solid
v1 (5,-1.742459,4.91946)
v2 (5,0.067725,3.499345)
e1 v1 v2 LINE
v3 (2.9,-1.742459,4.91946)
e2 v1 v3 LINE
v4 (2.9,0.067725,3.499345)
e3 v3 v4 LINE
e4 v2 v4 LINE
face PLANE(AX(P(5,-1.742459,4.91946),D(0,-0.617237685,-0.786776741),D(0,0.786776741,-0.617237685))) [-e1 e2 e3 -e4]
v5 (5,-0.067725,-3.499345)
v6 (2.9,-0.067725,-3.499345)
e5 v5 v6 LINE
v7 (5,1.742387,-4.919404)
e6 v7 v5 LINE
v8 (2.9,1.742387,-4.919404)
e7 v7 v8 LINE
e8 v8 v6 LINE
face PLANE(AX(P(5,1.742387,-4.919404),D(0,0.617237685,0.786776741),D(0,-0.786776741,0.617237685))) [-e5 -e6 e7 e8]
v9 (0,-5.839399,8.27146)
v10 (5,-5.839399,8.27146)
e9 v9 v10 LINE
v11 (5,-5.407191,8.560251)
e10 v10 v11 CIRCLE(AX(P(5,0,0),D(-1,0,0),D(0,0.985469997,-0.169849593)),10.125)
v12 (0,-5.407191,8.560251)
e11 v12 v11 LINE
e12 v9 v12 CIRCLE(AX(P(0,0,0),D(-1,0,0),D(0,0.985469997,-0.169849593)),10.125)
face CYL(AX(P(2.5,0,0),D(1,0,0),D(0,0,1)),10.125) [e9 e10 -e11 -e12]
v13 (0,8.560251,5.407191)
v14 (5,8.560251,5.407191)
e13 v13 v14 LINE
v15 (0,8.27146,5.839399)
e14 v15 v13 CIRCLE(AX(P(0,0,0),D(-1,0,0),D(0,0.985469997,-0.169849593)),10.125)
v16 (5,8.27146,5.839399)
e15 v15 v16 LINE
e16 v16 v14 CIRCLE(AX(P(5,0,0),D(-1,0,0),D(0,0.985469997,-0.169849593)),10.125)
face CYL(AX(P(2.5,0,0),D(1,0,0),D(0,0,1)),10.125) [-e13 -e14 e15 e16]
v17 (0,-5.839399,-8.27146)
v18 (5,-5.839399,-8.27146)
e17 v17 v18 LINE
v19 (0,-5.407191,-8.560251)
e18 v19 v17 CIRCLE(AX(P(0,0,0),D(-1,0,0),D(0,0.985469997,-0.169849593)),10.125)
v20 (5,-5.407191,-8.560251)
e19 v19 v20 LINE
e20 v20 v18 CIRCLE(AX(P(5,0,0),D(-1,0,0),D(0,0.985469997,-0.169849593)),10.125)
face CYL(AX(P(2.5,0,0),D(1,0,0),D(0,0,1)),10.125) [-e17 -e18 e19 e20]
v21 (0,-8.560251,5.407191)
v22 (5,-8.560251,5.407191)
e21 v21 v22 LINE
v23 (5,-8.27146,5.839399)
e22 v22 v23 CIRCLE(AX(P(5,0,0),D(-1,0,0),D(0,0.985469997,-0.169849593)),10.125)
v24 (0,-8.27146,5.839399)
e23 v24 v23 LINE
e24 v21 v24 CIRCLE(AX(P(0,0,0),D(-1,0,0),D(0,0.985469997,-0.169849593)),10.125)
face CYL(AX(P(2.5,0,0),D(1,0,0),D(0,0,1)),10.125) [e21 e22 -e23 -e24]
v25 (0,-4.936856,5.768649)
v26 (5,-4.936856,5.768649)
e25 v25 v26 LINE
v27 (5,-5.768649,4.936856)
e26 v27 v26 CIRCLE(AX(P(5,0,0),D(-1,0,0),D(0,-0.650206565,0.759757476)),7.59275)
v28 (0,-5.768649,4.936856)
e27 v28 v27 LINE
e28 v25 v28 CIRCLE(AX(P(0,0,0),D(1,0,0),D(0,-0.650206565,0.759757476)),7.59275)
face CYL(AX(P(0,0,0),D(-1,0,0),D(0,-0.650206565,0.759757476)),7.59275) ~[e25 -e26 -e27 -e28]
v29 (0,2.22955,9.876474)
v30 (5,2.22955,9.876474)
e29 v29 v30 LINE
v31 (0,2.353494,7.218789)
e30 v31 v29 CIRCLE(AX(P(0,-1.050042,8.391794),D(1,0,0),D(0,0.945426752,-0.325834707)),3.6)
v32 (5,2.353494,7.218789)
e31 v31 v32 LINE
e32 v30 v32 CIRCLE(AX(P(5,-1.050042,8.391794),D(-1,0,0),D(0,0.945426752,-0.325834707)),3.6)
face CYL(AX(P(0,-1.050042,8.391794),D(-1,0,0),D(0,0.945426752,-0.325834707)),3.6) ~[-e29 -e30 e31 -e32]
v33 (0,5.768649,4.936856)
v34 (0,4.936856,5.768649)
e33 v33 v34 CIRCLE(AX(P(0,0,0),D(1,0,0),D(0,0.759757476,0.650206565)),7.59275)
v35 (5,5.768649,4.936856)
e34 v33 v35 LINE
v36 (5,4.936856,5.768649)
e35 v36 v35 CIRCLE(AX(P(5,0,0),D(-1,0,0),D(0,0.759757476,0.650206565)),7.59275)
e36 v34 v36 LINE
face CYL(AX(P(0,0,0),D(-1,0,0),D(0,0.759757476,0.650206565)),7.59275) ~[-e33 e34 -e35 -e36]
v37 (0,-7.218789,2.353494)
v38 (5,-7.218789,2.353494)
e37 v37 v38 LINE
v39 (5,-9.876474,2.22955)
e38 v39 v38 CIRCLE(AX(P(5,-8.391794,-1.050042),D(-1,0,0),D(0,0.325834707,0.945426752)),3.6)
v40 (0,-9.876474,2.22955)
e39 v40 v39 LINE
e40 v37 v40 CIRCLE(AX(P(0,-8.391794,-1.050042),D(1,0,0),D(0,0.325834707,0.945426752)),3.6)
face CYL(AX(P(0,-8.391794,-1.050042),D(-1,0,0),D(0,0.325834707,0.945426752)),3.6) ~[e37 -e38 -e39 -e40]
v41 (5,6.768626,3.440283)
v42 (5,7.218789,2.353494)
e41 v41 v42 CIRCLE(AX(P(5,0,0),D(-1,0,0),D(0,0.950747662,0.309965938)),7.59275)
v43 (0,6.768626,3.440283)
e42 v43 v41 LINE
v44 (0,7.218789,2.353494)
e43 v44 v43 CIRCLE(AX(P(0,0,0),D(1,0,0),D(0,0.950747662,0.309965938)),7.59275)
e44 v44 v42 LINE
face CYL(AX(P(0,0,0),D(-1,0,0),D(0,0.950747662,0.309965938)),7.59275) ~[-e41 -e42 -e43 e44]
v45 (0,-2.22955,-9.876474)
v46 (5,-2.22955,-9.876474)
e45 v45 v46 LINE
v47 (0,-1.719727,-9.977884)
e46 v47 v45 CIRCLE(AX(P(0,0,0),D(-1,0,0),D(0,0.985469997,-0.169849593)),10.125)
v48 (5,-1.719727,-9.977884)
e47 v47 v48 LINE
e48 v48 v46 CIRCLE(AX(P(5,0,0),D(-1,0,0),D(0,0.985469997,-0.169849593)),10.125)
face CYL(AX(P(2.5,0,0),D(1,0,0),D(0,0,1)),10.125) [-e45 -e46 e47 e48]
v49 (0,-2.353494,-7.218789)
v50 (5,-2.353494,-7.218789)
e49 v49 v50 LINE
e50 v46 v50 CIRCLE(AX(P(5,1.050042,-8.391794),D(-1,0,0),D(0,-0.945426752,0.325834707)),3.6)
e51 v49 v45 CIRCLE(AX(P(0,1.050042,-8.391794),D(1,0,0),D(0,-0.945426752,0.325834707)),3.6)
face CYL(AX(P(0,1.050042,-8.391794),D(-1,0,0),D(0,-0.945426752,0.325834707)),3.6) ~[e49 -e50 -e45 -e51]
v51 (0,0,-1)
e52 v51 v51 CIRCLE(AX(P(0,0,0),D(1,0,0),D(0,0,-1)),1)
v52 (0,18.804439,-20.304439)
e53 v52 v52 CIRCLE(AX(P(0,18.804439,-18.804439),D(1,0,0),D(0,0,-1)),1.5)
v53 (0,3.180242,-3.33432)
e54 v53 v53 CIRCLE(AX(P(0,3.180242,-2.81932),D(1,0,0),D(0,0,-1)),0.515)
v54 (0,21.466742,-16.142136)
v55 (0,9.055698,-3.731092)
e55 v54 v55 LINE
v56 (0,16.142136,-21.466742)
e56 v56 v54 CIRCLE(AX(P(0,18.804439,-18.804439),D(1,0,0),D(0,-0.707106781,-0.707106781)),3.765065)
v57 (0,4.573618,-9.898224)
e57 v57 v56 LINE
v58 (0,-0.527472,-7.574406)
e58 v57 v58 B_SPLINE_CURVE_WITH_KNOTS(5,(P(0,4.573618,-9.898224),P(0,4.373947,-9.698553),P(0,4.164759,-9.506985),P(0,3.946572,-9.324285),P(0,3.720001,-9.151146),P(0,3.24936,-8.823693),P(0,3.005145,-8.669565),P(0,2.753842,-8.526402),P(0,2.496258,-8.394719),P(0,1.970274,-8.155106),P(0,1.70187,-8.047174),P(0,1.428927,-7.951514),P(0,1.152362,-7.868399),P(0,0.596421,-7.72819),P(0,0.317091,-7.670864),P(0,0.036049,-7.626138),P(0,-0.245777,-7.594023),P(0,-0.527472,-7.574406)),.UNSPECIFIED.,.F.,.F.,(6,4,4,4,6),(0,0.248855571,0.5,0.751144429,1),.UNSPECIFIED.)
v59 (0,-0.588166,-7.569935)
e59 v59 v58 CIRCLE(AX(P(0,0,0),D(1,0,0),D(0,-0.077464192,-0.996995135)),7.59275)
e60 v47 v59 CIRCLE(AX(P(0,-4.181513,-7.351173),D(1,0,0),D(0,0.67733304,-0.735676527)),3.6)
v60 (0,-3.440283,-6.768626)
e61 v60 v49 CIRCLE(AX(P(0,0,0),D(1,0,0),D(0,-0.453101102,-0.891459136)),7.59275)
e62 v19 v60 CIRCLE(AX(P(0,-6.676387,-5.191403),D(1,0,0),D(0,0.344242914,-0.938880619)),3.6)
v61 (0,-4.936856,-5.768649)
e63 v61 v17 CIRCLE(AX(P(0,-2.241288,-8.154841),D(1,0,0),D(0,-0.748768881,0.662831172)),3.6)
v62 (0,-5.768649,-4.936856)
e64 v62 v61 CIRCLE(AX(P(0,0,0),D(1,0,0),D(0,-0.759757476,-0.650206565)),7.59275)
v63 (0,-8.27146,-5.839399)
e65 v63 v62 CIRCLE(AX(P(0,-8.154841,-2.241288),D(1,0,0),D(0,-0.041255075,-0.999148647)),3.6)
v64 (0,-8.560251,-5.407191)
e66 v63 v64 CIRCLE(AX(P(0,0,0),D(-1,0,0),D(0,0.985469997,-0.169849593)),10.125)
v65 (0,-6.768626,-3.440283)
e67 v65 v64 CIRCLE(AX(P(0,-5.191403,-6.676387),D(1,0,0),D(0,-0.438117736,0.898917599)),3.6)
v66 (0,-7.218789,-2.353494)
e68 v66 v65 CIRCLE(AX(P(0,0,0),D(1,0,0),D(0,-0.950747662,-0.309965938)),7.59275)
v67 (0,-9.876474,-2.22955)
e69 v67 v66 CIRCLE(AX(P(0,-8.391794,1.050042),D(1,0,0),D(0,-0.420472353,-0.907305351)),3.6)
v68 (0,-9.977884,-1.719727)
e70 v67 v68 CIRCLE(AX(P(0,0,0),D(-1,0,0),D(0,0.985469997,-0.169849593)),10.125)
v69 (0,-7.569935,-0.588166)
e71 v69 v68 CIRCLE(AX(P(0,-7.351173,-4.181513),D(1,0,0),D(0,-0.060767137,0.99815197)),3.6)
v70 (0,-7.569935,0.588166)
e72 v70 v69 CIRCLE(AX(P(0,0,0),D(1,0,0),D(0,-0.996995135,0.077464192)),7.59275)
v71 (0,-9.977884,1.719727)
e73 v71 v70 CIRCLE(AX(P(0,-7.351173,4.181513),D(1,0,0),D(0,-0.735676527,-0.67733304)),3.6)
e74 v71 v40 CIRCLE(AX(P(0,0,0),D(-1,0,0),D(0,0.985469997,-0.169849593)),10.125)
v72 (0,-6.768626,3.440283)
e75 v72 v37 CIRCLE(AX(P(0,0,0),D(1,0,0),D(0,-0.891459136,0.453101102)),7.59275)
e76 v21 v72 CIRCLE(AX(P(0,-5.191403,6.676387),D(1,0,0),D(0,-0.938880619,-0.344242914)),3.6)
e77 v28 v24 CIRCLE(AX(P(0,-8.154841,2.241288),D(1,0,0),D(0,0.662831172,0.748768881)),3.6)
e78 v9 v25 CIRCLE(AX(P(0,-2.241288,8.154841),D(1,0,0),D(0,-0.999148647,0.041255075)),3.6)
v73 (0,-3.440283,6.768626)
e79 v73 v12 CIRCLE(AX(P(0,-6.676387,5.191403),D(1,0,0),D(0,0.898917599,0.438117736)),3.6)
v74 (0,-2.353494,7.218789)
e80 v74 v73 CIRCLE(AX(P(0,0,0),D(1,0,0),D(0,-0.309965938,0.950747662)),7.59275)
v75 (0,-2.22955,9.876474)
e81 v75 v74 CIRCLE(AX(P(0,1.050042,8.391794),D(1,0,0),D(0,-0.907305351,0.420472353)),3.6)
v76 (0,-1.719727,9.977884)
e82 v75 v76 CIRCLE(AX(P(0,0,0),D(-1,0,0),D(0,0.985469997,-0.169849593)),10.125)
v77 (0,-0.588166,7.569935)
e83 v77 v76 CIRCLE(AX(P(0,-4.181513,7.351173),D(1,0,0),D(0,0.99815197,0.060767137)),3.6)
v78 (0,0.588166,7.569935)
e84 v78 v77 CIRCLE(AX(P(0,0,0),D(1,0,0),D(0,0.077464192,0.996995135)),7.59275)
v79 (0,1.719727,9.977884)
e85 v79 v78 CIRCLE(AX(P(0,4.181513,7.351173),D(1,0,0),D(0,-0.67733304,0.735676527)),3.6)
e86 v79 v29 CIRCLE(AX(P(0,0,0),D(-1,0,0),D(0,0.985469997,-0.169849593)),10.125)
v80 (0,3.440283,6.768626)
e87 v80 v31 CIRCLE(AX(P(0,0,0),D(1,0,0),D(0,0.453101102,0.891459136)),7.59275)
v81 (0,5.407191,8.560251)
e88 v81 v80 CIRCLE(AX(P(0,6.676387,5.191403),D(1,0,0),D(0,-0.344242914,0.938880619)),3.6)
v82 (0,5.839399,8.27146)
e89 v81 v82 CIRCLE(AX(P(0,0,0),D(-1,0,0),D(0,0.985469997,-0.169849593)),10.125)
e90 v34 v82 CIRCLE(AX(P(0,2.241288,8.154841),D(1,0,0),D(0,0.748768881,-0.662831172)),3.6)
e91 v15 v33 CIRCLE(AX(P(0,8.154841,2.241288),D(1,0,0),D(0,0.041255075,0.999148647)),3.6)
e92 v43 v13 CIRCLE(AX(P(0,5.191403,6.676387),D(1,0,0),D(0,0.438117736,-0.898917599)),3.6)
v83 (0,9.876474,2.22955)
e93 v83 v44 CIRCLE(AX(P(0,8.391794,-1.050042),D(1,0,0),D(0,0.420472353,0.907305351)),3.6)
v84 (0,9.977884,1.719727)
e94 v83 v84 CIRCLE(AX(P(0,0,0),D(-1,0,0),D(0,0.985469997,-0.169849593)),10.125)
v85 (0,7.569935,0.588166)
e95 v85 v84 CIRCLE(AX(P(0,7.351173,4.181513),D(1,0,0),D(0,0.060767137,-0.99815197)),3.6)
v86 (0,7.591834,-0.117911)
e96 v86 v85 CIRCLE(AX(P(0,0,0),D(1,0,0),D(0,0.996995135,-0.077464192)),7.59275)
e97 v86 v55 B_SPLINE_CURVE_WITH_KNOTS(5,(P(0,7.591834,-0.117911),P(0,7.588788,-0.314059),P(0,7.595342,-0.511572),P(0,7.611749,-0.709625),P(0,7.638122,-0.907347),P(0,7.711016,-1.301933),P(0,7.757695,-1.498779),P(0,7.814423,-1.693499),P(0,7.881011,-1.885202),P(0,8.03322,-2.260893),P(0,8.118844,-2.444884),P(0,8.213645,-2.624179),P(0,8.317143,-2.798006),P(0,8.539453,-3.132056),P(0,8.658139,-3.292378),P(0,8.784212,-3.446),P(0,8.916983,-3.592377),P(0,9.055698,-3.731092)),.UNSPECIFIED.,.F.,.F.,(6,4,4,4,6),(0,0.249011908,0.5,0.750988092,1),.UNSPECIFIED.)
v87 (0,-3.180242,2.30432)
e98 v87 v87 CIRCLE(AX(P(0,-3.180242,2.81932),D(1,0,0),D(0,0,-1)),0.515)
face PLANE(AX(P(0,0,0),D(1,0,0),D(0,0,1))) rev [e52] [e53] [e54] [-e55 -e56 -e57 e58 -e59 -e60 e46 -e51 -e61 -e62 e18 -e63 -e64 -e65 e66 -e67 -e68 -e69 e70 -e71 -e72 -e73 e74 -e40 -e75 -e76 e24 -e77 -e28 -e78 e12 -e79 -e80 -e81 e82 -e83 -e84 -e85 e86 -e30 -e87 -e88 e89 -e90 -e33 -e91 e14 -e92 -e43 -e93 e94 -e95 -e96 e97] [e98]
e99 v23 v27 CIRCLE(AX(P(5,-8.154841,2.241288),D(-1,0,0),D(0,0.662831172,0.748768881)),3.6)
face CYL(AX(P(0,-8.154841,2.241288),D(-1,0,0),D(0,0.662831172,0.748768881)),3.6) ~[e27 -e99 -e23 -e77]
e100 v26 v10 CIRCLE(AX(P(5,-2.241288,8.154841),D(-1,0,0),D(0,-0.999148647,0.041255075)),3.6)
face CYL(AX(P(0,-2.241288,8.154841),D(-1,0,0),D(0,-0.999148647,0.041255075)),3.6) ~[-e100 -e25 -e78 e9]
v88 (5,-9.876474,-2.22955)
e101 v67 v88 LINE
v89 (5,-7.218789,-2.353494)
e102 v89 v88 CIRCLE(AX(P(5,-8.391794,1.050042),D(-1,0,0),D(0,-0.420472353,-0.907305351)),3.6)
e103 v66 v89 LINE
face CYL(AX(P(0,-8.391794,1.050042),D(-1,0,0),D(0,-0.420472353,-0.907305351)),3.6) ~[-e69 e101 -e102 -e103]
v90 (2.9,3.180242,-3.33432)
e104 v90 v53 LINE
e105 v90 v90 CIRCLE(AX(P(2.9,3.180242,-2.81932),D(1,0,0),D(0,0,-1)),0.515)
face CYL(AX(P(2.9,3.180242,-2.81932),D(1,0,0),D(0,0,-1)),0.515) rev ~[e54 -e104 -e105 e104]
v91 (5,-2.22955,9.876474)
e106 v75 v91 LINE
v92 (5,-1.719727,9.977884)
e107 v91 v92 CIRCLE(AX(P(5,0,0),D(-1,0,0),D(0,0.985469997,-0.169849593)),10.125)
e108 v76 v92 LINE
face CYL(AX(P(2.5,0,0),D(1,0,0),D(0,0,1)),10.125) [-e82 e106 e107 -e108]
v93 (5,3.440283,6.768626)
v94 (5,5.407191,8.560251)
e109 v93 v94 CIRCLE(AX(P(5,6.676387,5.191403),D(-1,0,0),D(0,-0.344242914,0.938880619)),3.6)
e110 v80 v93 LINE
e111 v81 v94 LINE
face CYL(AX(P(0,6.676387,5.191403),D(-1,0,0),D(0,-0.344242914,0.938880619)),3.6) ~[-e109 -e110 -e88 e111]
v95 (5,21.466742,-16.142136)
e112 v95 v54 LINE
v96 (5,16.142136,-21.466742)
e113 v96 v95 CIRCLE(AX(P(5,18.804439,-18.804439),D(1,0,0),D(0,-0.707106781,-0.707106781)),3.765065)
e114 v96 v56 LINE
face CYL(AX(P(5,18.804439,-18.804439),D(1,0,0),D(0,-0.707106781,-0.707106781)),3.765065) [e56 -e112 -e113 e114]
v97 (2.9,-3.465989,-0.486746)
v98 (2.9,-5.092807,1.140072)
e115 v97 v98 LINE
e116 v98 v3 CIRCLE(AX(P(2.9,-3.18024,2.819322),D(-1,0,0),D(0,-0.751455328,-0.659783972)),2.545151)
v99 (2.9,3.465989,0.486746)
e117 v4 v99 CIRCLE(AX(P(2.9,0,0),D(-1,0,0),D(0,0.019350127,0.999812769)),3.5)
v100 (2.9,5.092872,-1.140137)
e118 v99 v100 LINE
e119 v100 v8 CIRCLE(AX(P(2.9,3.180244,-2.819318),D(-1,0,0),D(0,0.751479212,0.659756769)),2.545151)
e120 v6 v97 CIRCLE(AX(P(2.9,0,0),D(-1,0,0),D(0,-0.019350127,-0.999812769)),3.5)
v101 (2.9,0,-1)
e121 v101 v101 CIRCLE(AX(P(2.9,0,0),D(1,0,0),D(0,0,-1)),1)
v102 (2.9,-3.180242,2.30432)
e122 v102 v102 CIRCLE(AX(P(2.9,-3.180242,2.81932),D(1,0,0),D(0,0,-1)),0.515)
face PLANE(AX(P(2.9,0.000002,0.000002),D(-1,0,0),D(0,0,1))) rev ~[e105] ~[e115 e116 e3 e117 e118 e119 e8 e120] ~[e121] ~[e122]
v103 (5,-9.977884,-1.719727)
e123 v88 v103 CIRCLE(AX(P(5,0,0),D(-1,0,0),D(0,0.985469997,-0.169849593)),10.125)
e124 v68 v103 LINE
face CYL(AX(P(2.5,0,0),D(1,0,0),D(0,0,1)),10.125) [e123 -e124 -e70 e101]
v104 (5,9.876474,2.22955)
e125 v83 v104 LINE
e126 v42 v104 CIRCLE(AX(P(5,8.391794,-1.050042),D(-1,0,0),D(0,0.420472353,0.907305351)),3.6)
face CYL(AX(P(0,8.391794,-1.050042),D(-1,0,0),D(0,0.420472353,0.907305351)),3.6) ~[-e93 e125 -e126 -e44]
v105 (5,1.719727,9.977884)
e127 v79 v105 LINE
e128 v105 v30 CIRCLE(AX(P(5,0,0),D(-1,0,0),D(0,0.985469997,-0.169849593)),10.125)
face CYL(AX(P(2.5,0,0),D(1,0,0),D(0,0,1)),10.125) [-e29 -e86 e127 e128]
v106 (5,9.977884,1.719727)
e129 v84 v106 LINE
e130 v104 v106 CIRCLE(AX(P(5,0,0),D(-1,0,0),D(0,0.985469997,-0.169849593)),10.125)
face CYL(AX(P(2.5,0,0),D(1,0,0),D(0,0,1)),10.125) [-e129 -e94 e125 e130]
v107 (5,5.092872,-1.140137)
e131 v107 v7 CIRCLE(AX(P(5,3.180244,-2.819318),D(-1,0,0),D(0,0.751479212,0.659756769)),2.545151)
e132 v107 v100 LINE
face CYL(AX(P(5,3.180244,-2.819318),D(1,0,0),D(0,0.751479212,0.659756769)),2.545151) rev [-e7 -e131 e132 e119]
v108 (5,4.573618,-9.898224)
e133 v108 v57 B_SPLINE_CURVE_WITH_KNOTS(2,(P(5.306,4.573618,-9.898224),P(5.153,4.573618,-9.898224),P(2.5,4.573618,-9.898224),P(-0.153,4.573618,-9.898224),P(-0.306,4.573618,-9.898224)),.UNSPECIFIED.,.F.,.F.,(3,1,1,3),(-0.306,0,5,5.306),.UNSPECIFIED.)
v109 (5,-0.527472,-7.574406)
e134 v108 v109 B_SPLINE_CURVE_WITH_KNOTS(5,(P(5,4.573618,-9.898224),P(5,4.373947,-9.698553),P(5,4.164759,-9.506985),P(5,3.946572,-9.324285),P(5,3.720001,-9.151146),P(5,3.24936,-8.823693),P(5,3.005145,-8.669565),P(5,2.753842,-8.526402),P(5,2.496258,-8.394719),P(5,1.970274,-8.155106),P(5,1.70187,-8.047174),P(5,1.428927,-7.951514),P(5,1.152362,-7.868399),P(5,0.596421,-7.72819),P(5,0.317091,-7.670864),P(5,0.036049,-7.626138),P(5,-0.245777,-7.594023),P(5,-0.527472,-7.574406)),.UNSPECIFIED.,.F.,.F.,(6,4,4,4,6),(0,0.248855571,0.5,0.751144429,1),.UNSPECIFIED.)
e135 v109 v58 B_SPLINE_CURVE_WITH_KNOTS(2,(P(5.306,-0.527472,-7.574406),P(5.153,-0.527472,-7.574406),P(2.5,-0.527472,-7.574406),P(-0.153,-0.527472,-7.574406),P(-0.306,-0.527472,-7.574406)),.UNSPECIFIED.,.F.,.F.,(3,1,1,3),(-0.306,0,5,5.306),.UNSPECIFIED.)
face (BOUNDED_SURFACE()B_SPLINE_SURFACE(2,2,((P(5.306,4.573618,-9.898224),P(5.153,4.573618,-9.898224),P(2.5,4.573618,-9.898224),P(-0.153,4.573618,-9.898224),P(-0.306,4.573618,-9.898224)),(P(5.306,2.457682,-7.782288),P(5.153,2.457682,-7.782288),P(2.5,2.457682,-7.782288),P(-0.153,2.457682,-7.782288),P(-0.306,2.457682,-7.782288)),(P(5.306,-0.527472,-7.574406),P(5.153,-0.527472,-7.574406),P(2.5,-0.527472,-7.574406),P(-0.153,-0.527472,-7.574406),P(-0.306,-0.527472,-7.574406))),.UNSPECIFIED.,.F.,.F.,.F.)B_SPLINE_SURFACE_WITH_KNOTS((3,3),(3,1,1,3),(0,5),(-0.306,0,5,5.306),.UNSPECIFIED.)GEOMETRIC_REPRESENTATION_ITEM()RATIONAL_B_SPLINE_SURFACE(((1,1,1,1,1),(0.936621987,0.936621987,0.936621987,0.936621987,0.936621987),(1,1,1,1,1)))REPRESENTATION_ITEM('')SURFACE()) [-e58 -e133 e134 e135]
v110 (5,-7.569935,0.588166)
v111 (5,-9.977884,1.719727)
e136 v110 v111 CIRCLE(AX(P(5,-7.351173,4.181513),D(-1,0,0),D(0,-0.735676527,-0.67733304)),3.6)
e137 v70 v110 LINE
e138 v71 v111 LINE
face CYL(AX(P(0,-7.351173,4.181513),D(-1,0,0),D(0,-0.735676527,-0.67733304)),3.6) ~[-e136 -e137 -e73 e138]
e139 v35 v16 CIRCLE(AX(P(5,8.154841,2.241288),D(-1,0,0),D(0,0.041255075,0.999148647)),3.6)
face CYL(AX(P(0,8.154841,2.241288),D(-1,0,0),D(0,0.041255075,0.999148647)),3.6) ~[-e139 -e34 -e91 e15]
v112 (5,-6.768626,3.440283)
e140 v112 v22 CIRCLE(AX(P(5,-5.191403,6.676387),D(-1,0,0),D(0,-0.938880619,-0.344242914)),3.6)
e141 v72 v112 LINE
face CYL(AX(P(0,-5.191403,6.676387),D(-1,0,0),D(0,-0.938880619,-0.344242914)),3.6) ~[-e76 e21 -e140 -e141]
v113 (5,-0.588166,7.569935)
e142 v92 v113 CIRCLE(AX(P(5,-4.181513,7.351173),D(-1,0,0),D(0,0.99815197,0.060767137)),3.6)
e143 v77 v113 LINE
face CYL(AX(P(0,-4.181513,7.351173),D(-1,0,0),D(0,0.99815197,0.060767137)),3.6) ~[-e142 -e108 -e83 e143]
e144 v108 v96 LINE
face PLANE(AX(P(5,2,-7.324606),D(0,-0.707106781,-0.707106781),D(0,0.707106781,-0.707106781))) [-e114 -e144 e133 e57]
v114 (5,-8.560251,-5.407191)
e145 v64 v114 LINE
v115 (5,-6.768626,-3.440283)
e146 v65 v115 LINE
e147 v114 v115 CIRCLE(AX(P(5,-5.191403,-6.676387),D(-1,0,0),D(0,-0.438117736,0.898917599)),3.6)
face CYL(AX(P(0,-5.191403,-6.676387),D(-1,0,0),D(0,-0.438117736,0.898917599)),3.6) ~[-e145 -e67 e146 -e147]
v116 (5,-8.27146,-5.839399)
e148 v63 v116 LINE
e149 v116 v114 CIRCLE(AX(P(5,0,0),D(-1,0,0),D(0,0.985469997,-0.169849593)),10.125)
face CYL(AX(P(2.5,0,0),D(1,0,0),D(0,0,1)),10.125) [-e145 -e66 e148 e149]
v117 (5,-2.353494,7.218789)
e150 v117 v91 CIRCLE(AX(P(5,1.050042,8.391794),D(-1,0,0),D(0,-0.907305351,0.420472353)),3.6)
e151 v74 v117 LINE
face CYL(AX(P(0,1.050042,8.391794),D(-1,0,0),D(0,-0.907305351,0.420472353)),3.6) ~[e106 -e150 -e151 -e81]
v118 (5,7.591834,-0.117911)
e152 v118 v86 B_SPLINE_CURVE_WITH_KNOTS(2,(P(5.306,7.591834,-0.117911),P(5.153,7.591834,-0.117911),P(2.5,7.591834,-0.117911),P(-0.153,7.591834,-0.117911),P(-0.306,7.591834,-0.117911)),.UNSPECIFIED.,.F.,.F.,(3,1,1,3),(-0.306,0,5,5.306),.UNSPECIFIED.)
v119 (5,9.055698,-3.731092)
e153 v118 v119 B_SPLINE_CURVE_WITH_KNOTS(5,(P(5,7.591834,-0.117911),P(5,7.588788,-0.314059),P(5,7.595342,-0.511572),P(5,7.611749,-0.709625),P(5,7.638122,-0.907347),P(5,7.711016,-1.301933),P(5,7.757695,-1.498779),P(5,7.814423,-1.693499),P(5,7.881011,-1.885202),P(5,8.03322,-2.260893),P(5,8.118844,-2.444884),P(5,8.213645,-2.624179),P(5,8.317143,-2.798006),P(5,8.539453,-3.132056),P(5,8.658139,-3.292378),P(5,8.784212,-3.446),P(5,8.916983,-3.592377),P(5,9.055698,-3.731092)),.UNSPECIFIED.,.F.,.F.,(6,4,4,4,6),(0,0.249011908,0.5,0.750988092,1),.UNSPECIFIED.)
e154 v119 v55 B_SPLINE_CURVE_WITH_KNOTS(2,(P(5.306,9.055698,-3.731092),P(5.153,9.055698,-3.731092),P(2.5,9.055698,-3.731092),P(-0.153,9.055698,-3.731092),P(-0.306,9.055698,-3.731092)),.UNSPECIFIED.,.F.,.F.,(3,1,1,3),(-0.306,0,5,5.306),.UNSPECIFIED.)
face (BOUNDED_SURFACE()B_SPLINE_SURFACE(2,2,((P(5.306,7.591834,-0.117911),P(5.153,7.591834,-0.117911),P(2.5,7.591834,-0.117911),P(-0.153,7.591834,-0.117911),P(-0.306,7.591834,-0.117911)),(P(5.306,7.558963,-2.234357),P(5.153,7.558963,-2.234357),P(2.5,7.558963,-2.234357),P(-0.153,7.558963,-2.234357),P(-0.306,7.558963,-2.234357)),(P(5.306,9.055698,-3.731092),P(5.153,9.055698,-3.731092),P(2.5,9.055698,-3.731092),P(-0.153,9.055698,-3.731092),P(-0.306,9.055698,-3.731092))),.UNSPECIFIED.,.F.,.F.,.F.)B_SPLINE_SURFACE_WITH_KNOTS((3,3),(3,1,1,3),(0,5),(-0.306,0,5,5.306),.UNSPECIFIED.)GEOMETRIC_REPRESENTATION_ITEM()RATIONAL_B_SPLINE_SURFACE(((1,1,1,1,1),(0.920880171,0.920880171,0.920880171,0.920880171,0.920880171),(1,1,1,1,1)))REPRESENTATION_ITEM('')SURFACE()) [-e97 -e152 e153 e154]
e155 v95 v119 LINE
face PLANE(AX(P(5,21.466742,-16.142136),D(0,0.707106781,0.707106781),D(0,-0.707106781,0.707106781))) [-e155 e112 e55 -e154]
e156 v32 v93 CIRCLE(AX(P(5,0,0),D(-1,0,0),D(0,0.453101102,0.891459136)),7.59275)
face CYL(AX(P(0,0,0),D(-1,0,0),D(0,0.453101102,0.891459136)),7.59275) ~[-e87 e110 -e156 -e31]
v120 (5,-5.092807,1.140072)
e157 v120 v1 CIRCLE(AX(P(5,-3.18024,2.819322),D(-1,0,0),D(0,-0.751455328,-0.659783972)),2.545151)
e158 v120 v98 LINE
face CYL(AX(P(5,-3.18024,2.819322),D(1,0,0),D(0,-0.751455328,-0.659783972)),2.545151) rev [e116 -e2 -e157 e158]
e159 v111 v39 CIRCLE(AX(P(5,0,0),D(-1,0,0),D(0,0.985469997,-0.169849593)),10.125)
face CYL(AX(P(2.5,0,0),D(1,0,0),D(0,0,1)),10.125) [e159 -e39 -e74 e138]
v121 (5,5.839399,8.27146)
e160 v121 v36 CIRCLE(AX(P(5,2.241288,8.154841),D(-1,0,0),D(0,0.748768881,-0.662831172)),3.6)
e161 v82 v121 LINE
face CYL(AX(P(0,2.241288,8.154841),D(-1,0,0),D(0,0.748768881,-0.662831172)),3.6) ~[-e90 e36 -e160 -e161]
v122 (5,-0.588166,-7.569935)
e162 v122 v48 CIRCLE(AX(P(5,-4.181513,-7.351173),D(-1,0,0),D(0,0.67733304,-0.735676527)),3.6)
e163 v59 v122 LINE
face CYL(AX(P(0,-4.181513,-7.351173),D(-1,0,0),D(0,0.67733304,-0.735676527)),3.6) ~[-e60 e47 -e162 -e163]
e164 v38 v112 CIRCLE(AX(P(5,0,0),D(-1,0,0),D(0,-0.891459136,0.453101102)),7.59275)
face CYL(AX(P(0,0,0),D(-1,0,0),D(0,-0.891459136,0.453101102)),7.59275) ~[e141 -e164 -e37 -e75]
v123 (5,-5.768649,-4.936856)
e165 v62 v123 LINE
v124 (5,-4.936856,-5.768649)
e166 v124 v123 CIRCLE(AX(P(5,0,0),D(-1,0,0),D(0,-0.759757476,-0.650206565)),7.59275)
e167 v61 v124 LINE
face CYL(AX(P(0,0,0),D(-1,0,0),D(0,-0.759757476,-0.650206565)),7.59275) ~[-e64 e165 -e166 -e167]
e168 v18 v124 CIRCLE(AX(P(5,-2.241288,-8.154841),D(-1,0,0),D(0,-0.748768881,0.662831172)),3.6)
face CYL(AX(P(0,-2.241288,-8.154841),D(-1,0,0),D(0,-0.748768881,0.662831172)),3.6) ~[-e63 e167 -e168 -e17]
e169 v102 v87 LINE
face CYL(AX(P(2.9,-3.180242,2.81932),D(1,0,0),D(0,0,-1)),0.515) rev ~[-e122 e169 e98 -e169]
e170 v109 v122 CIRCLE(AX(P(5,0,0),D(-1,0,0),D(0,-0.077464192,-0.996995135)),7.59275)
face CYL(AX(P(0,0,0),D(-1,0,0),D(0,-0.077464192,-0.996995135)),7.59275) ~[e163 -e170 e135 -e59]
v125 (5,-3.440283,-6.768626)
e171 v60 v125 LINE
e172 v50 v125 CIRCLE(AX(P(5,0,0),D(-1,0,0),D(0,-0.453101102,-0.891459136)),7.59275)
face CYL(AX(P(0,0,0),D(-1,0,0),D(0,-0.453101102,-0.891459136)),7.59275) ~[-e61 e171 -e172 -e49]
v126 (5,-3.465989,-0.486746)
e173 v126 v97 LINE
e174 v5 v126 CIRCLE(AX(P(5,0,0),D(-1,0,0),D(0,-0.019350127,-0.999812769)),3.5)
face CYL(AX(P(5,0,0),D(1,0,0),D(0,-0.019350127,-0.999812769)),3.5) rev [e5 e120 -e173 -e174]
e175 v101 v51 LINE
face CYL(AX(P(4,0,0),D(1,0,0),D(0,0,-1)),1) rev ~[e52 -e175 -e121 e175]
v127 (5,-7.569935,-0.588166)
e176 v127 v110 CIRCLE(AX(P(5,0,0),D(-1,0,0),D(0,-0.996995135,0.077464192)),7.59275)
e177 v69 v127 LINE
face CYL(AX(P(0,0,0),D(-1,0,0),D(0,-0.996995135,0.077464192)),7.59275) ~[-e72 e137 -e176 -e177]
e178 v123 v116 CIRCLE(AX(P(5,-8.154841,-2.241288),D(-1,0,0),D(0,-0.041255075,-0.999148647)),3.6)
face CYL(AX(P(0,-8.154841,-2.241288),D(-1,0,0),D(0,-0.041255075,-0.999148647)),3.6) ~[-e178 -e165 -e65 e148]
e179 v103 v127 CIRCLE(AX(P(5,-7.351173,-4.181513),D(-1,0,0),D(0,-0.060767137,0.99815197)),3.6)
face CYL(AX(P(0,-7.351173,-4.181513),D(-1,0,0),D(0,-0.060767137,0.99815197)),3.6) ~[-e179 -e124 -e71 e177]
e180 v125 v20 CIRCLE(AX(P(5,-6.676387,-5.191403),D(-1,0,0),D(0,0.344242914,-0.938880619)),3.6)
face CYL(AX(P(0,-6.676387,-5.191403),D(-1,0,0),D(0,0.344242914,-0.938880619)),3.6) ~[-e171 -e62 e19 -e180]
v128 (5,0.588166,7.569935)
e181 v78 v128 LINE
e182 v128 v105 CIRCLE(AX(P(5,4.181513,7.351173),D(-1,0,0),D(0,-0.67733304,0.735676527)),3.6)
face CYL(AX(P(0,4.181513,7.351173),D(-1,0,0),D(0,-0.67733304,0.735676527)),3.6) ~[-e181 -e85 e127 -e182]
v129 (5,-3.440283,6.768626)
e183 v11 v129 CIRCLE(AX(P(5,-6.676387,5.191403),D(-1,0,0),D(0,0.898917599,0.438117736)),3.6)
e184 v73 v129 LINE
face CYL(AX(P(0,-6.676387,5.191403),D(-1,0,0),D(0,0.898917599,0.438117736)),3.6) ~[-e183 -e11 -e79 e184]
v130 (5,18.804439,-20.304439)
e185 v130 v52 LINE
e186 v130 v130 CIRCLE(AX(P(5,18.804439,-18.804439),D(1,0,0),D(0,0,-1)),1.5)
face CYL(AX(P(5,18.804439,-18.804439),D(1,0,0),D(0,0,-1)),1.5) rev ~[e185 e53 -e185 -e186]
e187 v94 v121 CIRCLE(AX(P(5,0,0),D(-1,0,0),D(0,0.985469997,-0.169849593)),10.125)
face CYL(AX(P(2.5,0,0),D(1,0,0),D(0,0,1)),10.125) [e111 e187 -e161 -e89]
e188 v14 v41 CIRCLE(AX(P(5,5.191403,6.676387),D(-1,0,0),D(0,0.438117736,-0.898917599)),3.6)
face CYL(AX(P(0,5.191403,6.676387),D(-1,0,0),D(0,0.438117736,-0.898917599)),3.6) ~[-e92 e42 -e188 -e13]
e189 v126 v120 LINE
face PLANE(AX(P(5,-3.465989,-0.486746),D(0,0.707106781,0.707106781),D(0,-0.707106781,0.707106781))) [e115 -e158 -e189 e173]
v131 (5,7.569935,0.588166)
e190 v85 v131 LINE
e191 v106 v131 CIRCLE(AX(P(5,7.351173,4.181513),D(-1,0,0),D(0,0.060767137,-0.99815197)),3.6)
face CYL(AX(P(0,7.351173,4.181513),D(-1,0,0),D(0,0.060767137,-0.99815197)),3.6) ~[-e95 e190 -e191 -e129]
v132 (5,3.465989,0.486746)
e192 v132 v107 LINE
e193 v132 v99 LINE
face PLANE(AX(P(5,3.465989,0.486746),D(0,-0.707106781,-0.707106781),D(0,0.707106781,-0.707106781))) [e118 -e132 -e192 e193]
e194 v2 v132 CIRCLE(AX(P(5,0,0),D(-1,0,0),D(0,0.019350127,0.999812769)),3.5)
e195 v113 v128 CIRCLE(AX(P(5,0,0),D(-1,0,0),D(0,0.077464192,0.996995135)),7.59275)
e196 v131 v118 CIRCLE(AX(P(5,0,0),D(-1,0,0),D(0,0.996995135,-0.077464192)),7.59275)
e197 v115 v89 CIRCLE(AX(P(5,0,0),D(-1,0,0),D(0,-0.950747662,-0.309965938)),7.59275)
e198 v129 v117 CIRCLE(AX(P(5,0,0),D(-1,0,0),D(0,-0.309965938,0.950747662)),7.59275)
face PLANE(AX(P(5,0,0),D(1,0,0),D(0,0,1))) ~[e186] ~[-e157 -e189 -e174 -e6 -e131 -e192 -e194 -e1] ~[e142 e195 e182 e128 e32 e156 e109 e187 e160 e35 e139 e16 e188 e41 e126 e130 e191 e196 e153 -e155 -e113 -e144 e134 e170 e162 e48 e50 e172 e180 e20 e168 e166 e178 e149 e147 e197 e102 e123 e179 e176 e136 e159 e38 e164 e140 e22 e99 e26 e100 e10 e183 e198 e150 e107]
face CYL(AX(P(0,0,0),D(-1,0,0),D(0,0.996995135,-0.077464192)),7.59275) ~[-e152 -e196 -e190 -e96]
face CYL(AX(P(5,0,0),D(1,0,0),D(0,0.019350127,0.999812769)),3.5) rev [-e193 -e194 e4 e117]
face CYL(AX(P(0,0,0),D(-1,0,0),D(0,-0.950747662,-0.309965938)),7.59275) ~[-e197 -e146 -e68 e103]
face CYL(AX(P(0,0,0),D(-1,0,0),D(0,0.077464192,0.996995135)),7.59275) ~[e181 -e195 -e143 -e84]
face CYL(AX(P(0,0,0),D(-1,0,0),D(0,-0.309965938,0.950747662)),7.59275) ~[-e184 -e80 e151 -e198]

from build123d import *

# Parameters (mm, degrees)
BASPROSKE_W             = 5
BASPROSKE_H             = 10.125
TOOTHCUT_DEPTH          = 16.166781135
TEETHCUTS_COUNT         = 13
TEETHCUTS_ANGLE         = 270
BORSKE_R                = 2.5
BORE_DEPTH              = 50.0000508
ENL_V_START             = -10
ENL_V_MAT_EXTRU_1_DEPTH = 10
ESQUISSE2_R             = 1.5
BOSS_EXTRU_1_DEPTH      = 5
BOSS_EXTRU_2_START      = -1
ESQUISSE3_R             = 2.5
BOSS_EXTRU_2_DEPTH      = 4
ESQUISSE4_R             = 1
ENL_V_MAT_EXTRU_2_DEPTH = 10
CONG_1_R                = 5
CONG_2_R                = 8
ENL_V_MAT_EXTRU_4_DEPTH = 2.1
ESQUISSE8_R             = 0.515
ENL_V_MAT_EXTRU_5_DEPTH = 33.049570744


with BuildPart() as part:
    # BasProSke → Base-Revolve (revolve)
    with BuildSketch(Plane(origin=(0, 0, 0), x_dir=(1, 0, 0), z_dir=(0, 1, 0)), mode=Mode.PRIVATE) as base_revolve_sk:
        with Locations((2.5, 5.0625)):
            Rectangle(BASPROSKE_W, BASPROSKE_H)
    revolve(base_revolve_sk.sketch.rotate(Axis((-10, 0, 0), (1, 0, 0)), 180), axis=Axis((-10, 0, 0), (1, 0, 0)))

    # TooCutSke → ToothCut (cut, through all)
    with BuildSketch(Plane(origin=(0, 0, 0), x_dir=(0, 0, -1), z_dir=(1, 0, 0))):
        with BuildLine():
            ThreePointArc((0.588166249, 7.56993481), (0, 7.59275), (-0.588166249, 7.56993481))
            ThreePointArc((-0.588166249, 7.56993481), (-0.930156891, 8.896709021), (-1.743114395, 9.999608611))
            ThreePointArc((-1.743114395, 9.999608611), (0, 10.1504), (1.743114395, 9.999608611))
            ThreePointArc((1.743114395, 9.999608611), (0.930156891, 8.896709021), (0.588166249, 7.56993481))
        make_face()
    toothcut = extrude(amount=TOOTHCUT_DEPTH, mode=Mode.SUBTRACT)

    # TeethCuts: ToothCut ×13 about axis
    teethcuts_axis = Axis((-10, 0, 0), (1, 0, 0))
    for i in range(1, TEETHCUTS_COUNT):
        add(toothcut.rotate(teethcuts_axis, i * TEETHCUTS_ANGLE / (TEETHCUTS_COUNT - 1)), mode=Mode.SUBTRACT)

    # BorSke → Bore (cut, symmetric)
    with BuildSketch(Plane(origin=(0, 0, 0), x_dir=(0, 0, -1), z_dir=(1, 0, 0))):
        with Locations(Location((0, 0, 0), (0, 0, 180))):
            Circle(BORSKE_R)
    extrude(amount=BORE_DEPTH, both=True, mode=Mode.SUBTRACT)

    # Esquisse1 → Enlèv. mat.-Extru.1 (cut)
    with BuildSketch(Plane(origin=(5, 0, 0), x_dir=(0, 0, -1), z_dir=(1, 0, 0)).offset(ENL_V_START)):
        with BuildLine():
            ThreePointArc((7.56993481, 0.588166249), (5.368885013, 5.368885013), (0.588166249, 7.56993481))
            ThreePointArc((0.588166249, 7.56993481), (0.923336805, 8.882279141), (1.719727125, 9.977883724))
            ThreePointArc((1.719727125, 9.977883724), (7.15945616, 7.15945616), (9.977883724, 1.719727125))
            ThreePointArc((9.977883724, 1.719727125), (8.882279141, 0.923336805), (7.56993481, 0.588166249))
        make_face()
    extrude(amount=ENL_V_MAT_EXTRU_1_DEPTH, mode=Mode.SUBTRACT)

    # Esquisse2 → Boss.-Extru.1 (add, through all)
    with BuildSketch(Plane(origin=(5, 0, 0), x_dir=(0, 0, -1), z_dir=(1, 0, 0))):
        with BuildLine():
            Line((16.142135624, 21.46674159), (2, 7.324605966))
            ThreePointArc((2, 7.324605966), (5.368885013, 5.368885013), (7.324605966, 2))
            Line((7.324605966, 2), (21.46674159, 16.142135624))
            ThreePointArc((21.46674159, 16.142135624), (21.46674159, 21.46674159), (16.142135624, 21.46674159))
        make_face()
        with Locations((18.804438607, 18.804438607)):
            Circle(ESQUISSE2_R, mode=Mode.SUBTRACT)
    extrude(amount=-BOSS_EXTRU_1_DEPTH)

    # Esquisse3 → Boss.-Extru.2 (add, through all)
    with BuildSketch(Plane(origin=(5, 0, 0), x_dir=(0, 0, -1), z_dir=(1, 0, 0)).offset(BOSS_EXTRU_2_START)):
        with Locations(Location((0, 0, 0), (0, 0, 180))):
            Circle(ESQUISSE3_R)
    extrude(amount=-BOSS_EXTRU_2_DEPTH)

    # Esquisse4 → Enlèv. mat.-Extru.2 (cut)
    with BuildSketch(Plane(origin=(4, 0, 0), x_dir=(0, 0, -1), z_dir=(1, 0, 0))):
        Circle(ESQUISSE4_R)
    extrude(amount=-ENL_V_MAT_EXTRU_2_DEPTH, mode=Mode.SUBTRACT)

    # Congé1
    cong_1_edges = [part.edges().sort_by_distance(p)[0] for p in [
        (2.5, 7.324605966, -2),
    ]]
    fillet(cong_1_edges, radius=CONG_1_R)

    # Congé2
    cong_2_edges = [part.edges().sort_by_distance(p)[0] for p in [
        (2.5, 2, -7.324605966),
    ]]
    fillet(cong_2_edges, radius=CONG_2_R)

    # Esquisse6 → Enlèv. mat.-Extru.4 (cut)
    with BuildSketch(Plane(origin=(5, 0, 0), x_dir=(0, 0, -1), z_dir=(1, 0, 0))):
        with BuildLine():
            Line((-0.486746212, 3.465988766), (1.140136775, 5.092871753))
            ThreePointArc((1.140136775, 5.092871753), (4.507727263, 5.08472958), (4.91940393, 1.742386942))
            Line((4.91940393, 1.742386942), (3.499344691, -0.067725445))
            ThreePointArc((3.499344691, -0.067725445), (2.619022446, -2.321792719), (0.486746212, -3.465988766))
            Line((0.486746212, -3.465988766), (-1.140072016, -5.092806994))
            ThreePointArc((-1.140072016, -5.092806994), (-4.507662796, -5.08478673), (-4.919460458, -1.742458998))
            Line((-4.919460458, -1.742458998), (-3.499344691, 0.067725445))
            ThreePointArc((-3.499344691, 0.067725445), (-2.619022446, 2.321792719), (-0.486746212, 3.465988766))
        make_face()
    extrude(amount=-ENL_V_MAT_EXTRU_4_DEPTH, mode=Mode.SUBTRACT)

    # Esquisse8 → Enlèv. mat.-Extru.5 (cut, through all)
    with BuildSketch(Plane(origin=(2.9, 0, 0), x_dir=(0, 0, -1), z_dir=(1, 0, 0))):
        with Locations((-2.81931973, -3.180241541)):
            Circle(ESQUISSE8_R)
        with Locations((2.81931973, 3.180241541)):
            Circle(ESQUISSE8_R)
    extrude(amount=-ENL_V_MAT_EXTRU_5_DEPTH, mode=Mode.SUBTRACT)


solid = part.part
